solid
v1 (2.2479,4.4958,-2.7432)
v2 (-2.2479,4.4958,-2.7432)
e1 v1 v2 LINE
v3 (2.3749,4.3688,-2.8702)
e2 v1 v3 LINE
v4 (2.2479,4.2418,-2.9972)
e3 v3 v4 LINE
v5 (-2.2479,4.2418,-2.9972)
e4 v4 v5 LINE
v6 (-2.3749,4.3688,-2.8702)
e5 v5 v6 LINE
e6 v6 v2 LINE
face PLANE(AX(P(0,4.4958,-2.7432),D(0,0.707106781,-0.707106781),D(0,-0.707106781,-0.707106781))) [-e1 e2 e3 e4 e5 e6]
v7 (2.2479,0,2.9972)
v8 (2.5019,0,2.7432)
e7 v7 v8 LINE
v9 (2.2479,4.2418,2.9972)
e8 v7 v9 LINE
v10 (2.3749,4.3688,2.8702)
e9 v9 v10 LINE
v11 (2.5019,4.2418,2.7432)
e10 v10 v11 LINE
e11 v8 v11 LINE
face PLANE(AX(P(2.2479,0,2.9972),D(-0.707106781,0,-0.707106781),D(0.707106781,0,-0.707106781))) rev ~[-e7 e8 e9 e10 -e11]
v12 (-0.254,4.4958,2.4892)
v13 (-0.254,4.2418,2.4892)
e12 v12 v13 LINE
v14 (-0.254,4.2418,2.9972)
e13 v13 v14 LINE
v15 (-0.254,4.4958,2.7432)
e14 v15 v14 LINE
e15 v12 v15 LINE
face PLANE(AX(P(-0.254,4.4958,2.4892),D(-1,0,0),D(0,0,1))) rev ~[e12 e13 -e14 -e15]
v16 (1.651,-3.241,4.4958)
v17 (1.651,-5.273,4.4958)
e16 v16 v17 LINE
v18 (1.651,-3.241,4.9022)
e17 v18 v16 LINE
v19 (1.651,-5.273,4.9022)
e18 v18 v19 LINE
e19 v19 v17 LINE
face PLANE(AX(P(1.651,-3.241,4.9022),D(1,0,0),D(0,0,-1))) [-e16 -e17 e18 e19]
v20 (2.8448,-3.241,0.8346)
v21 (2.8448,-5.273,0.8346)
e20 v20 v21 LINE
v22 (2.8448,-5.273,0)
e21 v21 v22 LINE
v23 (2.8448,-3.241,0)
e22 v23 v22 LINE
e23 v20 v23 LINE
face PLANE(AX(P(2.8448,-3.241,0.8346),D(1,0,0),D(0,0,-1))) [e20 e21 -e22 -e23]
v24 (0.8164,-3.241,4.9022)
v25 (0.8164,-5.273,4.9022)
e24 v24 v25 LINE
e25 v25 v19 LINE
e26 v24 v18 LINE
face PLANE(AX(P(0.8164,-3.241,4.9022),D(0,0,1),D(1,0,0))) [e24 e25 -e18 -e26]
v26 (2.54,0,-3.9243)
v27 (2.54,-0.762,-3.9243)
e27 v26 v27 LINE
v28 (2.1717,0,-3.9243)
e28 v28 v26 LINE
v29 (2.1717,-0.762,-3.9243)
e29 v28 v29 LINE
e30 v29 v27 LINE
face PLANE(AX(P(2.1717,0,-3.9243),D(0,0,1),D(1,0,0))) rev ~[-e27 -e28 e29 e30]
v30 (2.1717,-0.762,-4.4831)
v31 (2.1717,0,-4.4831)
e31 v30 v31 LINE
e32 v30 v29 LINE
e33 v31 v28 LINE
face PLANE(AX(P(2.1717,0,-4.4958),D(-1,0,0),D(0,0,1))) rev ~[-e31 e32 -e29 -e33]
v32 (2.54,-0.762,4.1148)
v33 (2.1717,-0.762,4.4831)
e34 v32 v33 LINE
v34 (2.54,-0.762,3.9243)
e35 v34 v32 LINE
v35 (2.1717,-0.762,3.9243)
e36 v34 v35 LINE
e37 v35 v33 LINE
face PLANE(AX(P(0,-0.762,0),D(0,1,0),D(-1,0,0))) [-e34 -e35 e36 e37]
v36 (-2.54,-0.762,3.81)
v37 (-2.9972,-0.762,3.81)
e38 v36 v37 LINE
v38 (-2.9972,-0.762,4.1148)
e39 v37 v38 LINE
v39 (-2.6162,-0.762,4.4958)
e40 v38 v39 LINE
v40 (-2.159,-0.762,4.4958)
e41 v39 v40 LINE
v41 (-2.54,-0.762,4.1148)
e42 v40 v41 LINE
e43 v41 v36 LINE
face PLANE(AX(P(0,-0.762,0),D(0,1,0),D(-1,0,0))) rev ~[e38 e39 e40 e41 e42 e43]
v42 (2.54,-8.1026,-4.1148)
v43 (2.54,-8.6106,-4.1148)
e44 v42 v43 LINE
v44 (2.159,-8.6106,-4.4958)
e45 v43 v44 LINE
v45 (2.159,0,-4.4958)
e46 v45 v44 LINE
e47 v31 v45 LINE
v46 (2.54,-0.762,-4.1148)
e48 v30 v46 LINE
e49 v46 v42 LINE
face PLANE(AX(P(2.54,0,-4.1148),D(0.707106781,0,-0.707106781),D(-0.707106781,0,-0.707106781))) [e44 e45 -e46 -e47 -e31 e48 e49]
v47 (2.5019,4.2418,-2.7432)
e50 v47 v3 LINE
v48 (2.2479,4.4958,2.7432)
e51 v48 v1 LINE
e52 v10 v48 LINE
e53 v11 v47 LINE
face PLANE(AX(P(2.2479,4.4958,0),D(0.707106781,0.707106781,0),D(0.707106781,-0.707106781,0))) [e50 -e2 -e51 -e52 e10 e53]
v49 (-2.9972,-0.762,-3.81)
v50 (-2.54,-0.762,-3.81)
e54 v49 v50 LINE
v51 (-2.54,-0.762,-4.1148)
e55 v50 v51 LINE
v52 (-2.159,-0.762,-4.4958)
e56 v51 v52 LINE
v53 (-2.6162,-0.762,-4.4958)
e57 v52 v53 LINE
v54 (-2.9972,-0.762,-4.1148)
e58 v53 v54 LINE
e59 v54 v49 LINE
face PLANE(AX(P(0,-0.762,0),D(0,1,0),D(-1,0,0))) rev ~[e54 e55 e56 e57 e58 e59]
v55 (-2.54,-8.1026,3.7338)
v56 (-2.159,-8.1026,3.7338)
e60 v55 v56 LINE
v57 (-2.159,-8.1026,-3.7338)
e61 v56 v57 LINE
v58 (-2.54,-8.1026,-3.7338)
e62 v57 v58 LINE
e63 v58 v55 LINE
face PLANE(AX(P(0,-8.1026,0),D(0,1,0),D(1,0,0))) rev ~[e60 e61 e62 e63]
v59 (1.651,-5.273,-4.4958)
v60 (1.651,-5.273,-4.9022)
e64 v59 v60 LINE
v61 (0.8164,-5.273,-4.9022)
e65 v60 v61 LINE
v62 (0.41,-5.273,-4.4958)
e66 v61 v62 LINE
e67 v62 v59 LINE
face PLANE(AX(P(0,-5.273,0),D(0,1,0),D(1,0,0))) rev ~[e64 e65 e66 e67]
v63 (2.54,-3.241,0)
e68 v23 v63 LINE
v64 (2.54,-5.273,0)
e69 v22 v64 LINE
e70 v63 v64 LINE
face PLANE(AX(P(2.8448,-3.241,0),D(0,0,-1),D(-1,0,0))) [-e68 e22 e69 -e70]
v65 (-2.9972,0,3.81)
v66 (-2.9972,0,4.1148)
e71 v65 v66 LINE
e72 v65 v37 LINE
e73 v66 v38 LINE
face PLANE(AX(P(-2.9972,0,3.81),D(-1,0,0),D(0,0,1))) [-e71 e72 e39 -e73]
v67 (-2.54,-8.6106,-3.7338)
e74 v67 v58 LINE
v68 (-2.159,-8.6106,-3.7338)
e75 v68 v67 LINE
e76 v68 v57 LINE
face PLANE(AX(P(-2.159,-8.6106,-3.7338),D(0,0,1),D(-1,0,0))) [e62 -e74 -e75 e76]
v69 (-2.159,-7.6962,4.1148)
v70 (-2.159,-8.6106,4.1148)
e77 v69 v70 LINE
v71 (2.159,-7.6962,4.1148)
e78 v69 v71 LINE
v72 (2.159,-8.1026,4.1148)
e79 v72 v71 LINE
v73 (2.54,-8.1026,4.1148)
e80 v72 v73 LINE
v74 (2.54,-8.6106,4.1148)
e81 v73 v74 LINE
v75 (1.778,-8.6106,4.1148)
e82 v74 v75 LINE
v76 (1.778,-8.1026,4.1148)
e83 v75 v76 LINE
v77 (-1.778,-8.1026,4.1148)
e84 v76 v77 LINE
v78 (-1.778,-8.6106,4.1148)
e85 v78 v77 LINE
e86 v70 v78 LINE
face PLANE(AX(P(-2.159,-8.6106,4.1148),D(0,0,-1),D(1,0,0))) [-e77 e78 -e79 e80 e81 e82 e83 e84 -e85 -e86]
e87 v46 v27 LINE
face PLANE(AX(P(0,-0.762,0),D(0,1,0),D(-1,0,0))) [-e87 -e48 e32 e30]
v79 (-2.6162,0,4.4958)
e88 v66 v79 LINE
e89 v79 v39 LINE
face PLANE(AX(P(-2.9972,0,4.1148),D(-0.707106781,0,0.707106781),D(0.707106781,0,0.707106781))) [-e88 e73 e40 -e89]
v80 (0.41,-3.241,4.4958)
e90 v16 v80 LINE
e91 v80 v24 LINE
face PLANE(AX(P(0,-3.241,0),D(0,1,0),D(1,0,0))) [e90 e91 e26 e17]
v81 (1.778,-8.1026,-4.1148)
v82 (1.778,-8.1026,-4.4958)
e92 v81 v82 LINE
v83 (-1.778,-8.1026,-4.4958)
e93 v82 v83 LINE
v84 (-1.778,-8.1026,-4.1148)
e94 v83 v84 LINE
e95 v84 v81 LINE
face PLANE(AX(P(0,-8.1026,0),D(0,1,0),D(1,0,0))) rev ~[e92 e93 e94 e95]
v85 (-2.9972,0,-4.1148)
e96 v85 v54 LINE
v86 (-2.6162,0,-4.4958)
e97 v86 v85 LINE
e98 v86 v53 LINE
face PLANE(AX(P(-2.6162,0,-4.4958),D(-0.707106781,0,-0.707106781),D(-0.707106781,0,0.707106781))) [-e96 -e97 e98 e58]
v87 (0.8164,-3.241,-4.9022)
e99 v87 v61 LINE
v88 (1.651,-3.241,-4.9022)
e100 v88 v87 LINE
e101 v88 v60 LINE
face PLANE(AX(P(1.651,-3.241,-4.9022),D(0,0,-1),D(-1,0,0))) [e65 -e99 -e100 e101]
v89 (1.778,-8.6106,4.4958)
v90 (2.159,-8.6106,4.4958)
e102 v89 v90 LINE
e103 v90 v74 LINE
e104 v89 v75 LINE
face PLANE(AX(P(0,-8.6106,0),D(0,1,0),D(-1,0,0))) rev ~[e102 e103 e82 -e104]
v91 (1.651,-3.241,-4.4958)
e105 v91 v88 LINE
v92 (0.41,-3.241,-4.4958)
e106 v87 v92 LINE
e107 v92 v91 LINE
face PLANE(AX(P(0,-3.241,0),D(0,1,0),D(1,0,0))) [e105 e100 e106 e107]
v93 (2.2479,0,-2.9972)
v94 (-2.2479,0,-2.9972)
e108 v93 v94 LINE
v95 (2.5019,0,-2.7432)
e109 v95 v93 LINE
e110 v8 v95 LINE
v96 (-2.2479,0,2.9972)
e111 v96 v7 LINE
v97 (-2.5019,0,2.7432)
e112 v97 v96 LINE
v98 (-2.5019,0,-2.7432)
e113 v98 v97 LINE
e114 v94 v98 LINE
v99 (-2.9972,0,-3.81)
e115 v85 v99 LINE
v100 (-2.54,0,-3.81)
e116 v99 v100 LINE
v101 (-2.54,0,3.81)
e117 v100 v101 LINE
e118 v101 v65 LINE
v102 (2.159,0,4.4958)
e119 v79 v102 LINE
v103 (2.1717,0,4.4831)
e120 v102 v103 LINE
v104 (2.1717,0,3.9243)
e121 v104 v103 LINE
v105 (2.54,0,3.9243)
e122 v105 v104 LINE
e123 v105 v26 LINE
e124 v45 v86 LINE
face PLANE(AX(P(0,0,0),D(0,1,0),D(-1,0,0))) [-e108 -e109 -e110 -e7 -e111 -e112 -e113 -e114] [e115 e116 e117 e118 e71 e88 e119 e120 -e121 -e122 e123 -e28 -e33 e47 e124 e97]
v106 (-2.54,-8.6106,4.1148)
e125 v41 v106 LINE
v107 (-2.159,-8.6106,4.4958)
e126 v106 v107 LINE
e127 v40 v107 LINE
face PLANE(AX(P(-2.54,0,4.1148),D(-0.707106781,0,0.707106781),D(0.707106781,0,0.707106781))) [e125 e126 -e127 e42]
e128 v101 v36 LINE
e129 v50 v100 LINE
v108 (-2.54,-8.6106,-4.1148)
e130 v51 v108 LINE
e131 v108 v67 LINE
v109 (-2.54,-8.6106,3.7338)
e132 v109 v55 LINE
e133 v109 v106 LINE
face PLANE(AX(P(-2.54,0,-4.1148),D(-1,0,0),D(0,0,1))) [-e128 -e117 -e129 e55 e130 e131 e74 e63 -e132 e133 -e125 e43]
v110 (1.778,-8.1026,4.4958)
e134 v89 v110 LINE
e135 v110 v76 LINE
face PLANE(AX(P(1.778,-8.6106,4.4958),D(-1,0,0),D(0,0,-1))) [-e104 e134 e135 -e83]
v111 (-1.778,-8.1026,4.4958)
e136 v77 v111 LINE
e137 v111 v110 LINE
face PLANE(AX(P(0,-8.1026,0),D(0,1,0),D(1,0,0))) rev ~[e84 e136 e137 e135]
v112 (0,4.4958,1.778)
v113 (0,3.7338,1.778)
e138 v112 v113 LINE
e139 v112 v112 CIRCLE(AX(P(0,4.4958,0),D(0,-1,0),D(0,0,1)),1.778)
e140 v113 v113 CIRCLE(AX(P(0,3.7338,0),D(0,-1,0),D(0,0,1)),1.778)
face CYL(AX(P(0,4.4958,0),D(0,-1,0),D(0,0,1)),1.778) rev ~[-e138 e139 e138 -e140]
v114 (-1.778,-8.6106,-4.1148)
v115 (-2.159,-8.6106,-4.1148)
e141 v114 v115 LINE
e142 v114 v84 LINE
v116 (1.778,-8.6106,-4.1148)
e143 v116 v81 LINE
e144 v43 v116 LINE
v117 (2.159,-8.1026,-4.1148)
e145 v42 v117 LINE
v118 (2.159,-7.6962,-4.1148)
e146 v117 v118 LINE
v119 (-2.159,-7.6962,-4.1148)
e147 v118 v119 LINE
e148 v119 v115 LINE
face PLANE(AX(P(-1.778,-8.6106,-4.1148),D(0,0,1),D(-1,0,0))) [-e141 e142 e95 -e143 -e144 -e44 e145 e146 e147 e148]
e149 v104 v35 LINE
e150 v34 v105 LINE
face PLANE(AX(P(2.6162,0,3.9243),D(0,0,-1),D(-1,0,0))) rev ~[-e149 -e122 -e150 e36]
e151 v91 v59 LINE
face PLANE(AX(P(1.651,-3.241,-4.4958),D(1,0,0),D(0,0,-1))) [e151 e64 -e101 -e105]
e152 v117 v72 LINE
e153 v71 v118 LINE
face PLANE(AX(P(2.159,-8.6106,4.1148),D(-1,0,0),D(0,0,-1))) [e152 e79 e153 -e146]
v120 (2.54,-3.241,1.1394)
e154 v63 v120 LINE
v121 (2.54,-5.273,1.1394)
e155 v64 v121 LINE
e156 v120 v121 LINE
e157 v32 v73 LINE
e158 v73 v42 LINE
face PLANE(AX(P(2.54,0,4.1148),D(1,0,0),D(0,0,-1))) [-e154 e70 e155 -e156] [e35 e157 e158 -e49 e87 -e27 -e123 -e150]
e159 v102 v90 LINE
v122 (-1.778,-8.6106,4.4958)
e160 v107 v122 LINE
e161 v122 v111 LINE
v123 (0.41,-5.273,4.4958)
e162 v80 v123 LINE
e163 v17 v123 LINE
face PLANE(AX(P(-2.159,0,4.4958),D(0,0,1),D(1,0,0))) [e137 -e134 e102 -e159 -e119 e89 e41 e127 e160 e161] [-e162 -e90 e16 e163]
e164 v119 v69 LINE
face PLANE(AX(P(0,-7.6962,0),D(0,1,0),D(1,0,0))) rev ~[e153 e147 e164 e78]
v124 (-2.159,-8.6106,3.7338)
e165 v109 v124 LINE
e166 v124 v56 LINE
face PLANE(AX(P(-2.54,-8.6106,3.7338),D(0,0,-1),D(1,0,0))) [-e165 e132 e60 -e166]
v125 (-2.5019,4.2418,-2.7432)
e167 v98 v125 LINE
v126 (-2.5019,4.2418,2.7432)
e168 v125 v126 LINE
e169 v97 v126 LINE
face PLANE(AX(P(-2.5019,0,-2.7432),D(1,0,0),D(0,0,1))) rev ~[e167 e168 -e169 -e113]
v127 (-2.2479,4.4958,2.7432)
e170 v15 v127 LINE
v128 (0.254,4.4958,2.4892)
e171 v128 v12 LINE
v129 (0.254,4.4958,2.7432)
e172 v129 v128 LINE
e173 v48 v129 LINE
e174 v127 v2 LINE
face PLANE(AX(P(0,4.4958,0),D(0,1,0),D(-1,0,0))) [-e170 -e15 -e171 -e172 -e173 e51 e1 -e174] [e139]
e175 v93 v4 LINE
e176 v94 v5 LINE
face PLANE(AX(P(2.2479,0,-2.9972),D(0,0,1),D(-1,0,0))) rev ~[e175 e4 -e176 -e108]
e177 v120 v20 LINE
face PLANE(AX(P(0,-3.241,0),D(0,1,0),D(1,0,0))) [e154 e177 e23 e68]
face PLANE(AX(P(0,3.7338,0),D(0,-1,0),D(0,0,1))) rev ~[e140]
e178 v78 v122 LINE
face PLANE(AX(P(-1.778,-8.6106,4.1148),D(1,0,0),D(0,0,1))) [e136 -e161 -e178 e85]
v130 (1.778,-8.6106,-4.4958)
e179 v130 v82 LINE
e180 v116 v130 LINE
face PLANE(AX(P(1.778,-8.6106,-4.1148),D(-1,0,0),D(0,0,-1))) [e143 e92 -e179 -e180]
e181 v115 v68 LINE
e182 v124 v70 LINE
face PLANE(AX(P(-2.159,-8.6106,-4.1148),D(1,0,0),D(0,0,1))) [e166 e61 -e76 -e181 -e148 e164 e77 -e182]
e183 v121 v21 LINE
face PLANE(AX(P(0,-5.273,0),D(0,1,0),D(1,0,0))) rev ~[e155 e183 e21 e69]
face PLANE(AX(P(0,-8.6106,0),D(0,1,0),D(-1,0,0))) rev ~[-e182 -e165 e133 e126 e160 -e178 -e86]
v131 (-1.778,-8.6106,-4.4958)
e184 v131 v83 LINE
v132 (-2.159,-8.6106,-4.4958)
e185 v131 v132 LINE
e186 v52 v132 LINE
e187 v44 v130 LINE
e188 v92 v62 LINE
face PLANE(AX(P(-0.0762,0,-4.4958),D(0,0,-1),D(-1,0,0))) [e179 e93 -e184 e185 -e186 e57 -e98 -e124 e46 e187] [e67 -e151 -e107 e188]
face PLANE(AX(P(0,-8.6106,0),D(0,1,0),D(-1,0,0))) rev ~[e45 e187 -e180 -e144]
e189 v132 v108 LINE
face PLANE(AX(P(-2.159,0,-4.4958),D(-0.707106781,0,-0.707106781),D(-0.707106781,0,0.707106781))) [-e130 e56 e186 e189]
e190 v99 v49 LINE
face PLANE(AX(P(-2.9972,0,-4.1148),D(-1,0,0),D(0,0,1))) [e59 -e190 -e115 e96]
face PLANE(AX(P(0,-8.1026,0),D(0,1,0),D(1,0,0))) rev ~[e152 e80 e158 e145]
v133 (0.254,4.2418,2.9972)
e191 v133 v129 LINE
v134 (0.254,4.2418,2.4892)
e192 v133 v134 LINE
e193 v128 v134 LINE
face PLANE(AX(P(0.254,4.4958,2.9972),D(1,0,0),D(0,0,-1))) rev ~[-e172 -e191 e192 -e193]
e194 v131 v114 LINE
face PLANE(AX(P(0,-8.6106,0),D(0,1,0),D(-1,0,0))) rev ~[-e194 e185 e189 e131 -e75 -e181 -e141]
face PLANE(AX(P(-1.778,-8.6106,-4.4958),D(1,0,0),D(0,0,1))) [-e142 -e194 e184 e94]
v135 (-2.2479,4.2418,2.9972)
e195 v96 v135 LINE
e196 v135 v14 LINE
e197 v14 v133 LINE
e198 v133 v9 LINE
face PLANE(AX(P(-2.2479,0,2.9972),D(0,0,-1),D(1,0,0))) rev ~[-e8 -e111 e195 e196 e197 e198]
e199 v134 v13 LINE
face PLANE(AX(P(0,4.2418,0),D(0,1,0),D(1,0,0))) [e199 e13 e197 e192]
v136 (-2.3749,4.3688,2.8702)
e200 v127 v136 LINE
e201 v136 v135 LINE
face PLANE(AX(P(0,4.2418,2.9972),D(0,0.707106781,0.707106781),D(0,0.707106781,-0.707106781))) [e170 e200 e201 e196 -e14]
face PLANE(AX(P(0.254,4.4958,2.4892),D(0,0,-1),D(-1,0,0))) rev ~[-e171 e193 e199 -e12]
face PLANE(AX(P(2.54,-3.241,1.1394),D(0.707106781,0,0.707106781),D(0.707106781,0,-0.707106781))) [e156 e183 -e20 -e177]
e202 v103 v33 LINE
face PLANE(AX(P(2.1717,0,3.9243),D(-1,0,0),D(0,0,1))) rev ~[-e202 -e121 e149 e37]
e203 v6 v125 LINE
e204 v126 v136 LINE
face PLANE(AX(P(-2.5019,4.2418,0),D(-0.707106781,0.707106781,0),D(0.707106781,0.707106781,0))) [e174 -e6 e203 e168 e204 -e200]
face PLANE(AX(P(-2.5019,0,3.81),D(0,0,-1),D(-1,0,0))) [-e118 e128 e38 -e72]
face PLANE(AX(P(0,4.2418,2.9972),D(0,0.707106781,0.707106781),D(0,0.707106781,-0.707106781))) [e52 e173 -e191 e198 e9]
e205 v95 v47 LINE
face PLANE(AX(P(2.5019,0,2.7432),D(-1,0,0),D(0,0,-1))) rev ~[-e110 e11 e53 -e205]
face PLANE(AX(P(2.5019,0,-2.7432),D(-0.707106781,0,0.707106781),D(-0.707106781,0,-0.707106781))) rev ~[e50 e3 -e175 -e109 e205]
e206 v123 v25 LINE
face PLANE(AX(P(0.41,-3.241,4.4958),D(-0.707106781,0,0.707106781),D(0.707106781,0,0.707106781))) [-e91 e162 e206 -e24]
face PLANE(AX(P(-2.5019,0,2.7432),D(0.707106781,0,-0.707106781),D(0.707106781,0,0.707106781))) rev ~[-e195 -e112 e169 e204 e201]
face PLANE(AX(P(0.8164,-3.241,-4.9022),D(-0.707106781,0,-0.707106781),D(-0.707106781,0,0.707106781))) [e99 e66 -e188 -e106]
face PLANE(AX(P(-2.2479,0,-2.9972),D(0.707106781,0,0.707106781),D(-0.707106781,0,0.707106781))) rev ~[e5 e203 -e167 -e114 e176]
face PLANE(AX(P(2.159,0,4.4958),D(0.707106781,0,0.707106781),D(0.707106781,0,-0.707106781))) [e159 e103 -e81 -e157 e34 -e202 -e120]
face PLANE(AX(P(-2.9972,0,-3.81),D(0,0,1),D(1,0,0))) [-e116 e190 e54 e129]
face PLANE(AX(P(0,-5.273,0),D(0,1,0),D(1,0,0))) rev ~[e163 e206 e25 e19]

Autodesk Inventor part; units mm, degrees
sketch "Sketch_1" plane through (0, 0, 0) normal (0, 1, 0) x (-1, 0, 0)
  line L0 (2.54, -4.1148) -> (2.54, 4.1148)
  line L1 (2.54, 4.1148) -> (2.159, 4.4958)
  line L2 (2.159, 4.4958) -> (-2.159, 4.4958)
  line L3 (-2.159, 4.4958) -> (-2.54, 4.1148)
  line L4 (-2.54, 4.1148) -> (-2.54, -4.1148)
  line L5 (-2.54, -4.1148) -> (-2.159, -4.4958)
  line L6 (-2.159, -4.4958) -> (2.159, -4.4958)
  line L7 (2.159, -4.4958) -> (2.54, -4.1148)
extrude "Extrusion1" add sketch "Sketch_1" against normal blind 8.6106
sketch "Sketch_2" plane through (0, -8.6106, 0) normal (0, 1, 0) x (1, 0, 0)
  line L0 (-2.54, 3.7338) -> (-2.54, -3.7338)
  line L1 (-2.54, -3.7338) -> (-2.159, -3.7338)
  line L2 (-2.159, -3.7338) -> (-2.159, -4.1148)
  line L3 (-2.159, -4.1148) -> (-1.778, -4.1148)
  line L4 (-1.778, -4.1148) -> (-1.778, -4.4958)
  line L5 (-1.778, -4.4958) -> (1.778, -4.4958)
  line L6 (1.778, -4.4958) -> (1.778, -4.1148)
  line L7 (1.778, -4.1148) -> (2.54, -4.1148)
  line L8 (2.54, -4.1148) -> (2.54, 4.1148)
  line L9 (2.54, 4.1148) -> (1.778, 4.1148)
  line L10 (1.778, 4.1148) -> (1.778, 4.4958)
  line L11 (1.778, 4.4958) -> (-1.778, 4.4958)
  line L12 (-1.778, 4.4958) -> (-1.778, 4.1148)
  line L13 (-1.778, 4.1148) -> (-2.159, 4.1148)
  line L14 (-2.159, 4.1148) -> (-2.159, 3.7338)
  line L15 (-2.159, 3.7338) -> (-2.54, 3.7338)
extrude "Extrusion2" cut sketch "Sketch_2" along normal blind 0.508
sketch "Sketch_21" plane through (0, -8.6106, 0) normal (0, 1, 0) x (1, 0, 0)
  line L0 (-2.159, -4.1148) -> (2.159, -4.1148)
  line L1 (2.159, -4.1148) -> (2.159, 4.1148)
  line L2 (2.159, 4.1148) -> (-2.159, 4.1148)
  line L3 (-2.159, 4.1148) -> (-2.159, -4.1148)
extrude "Extrusion3" cut sketch "Sketch_21" along normal blind 0.9144
sketch "Sketch_3" plane through (0, 0, 0) normal (0, 1, 0) x (-1, 0, 0)
  line L0 (-2.1717, -3.9243) -> (-2.6162, -3.9243)
  line L1 (-2.6162, -3.9243) -> (-2.6162, 3.9243)
  line L2 (-2.6162, 3.9243) -> (-2.1717, 3.9243)
  line L3 (-2.1717, 3.9243) -> (-2.1717, 4.4958)
  line L4 (-2.1717, 4.4958) -> (-2.921, 4.4958)
  line L5 (-2.921, 4.4958) -> (-2.921, -4.4958)
  line L6 (-2.921, -4.4958) -> (-2.1717, -4.4958)
  line L7 (-2.1717, -4.4958) -> (-2.1717, -3.9243)
extrude "Extrusion4" cut sketch "Sketch_3" against normal blind 0.762
sketch "Sketch_4" plane through (0, 0, 0) normal (0, 1, 0) x (-1, 0, 0)
  line L0 (2.9972, -3.81) -> (2.5019, -3.81)
  line L1 (2.5019, -3.81) -> (2.5019, 3.81)
  line L2 (2.5019, 3.81) -> (2.9972, 3.81)
  line L3 (2.9972, 3.81) -> (2.9972, 4.1148)
  line L4 (2.9972, 4.1148) -> (2.6162, 4.4958)
  line L5 (2.6162, 4.4958) -> (0.0762, 4.4958)
  line L6 (0.0762, 4.4958) -> (0.0762, -4.4958)
  line L7 (0.0762, -4.4958) -> (2.6162, -4.4958)
  line L8 (2.6162, -4.4958) -> (2.9972, -4.1148)
  line L9 (2.9972, -4.1148) -> (2.9972, -3.81)
extrude "Extrusion5" add sketch "Sketch_4" against normal blind 0.762
sketch "Sketch_5" plane through (0, -3.241, 0) normal (0, 1, 0) x (1, 0, 0)
  line L0 (0.41, -4.4958) -> (0.8164, -4.9022)
  line L1 (0.8164, -4.9022) -> (1.651, -4.9022)
  line L2 (1.651, -4.9022) -> (1.651, -4.4958)
  line L3 (1.651, -4.4958) -> (0.41, -4.4958)
extrude "Extrusion6" add sketch "Sketch_5" against normal blind 2.032
sketch "Sketch_6" plane through (0, -3.241, 0) normal (0, 1, 0) x (1, 0, 0)
  line L0 (0.41, 4.4958) -> (1.651, 4.4958)
  line L1 (1.651, 4.4958) -> (1.651, 4.9022)
  line L2 (1.651, 4.9022) -> (0.8164, 4.9022)
  line L3 (0.8164, 4.9022) -> (0.41, 4.4958)
extrude "Extrusion7" add sketch "Sketch_6" against normal blind 2.032
sketch "Sketch_7" plane through (0, -3.241, 0) normal (0, 1, 0) x (1, 0, 0)
  line L0 (2.54, 0) -> (2.54, -1.1394)
  line L1 (2.54, -1.1394) -> (2.8448, -0.8346)
  line L2 (2.8448, -0.8346) -> (2.8448, 0)
  line L3 (2.8448, 0) -> (2.54, 0)
extrude "Extrusion8" add sketch "Sketch_7" against normal blind 2.032
sketch "Sketch_8" plane through (0, 0, 0) normal (0, 1, 0) x (-1, 0, 0)
  line L0 (2.5019, -2.7432) -> (2.5019, 2.7432)
  line L1 (2.5019, 2.7432) -> (2.2479, 2.9972)
  line L2 (2.2479, 2.9972) -> (-2.2479, 2.9972)
  line L3 (-2.2479, 2.9972) -> (-2.5019, 2.7432)
  line L4 (-2.5019, 2.7432) -> (-2.5019, -2.7432)
  line L5 (-2.5019, -2.7432) -> (-2.2479, -2.9972)
  line L6 (-2.2479, -2.9972) -> (2.2479, -2.9972)
  line L7 (2.2479, -2.9972) -> (2.5019, -2.7432)
extrude "Extrusion9" add sketch "Sketch_8" along normal blind 4.4958
sketch "Sketch_9" plane through (0, 0, 0) normal (1, 0, 0) x (0, 1, 0)
  line L0 (0, 3.2953) -> (0, 2.9972)
  line L1 (0, 2.9972) -> (4.2418, 2.9972)
  line L2 (4.2418, 2.9972) -> (4.4958, 2.7432)
  line L3 (4.4958, 2.7432) -> (4.4958, -2.7432)
  line L4 (4.4958, -2.7432) -> (4.2418, -2.9972)
  line L5 (4.2418, -2.9972) -> (0, -2.9972)
  line L6 (0, -2.9972) -> (0, -3.2953)
  line L7 (0, -3.2953) -> (4.5957, -3.2953)
  line L8 (4.5957, -3.2953) -> (4.5957, 3.2953)
  line L9 (4.5957, 3.2953) -> (0, 3.2953)
extrude "Extrusion10" cut sketch "Sketch_9" along normal mid plane 5.0038
sketch "Sketch_10" plane through (0, 0, 0) normal (0, 0, 1) x (1, 0, 0)
  line L0 (-3.2953, 0) -> (-2.5019, 0)
  line L1 (-2.5019, 0) -> (-2.5019, 4.2418)
  line L2 (-2.5019, 4.2418) -> (-2.2479, 4.4958)
  line L3 (-2.2479, 4.4958) -> (2.2479, 4.4958)
  line L4 (2.2479, 4.4958) -> (2.5019, 4.2418)
  line L5 (2.5019, 4.2418) -> (2.5019, 0)
  line L6 (2.5019, 0) -> (3.2953, 0)
  line L7 (3.2953, 0) -> (3.2953, 4.5957)
  line L8 (3.2953, 4.5957) -> (-3.2953, 4.5957)
  line L9 (-3.2953, 4.5957) -> (-3.2953, 0)
extrude "Extrusion11" cut sketch "Sketch_10" along normal mid plane 5.9944
sketch "Sketch12" plane through (0, 4.4958, 0) normal (0, 1, 0) x (1, 0, 0)
  point P0 (0, 0)
hole "Drilling 1" at (0, 4.4958, 0) direction (0, -1, 0) diameter 3.556 depth 0.762
sketch "Sketch_28" plane through (0, 4.4958, 0) normal (0, 1, 0) x (1, 0, 0)
  line L0 (-0.254, -2.4892) -> (-0.254, -2.9972)
  line L1 (-0.254, -2.9972) -> (0.254, -2.9972)
  line L2 (0.254, -2.9972) -> (0.254, -2.4892)
  line L3 (0.254, -2.4892) -> (-0.254, -2.4892)
extrude "Extrusion12" cut sketch "Sketch_28" against normal blind 0.254
ref_plane "to_bracket_r_XY" through (-2.54, -4.3078, 0) normal (1, 0, 0) x (0, 0, -1)
ref_plane "to_bracket_r_YZ" through (-2.54, -4.3078, 0) normal (0, 0, -1) x (0, 1, 0)
ref_plane "to_bracket_r_ZX" through (-2.54, -4.3078, 0) normal (0, 1, 0) x (1, 0, 0)
ref_plane "to_bracket_r2_XY" through (-4.3942, -4.318, 0) normal (1, 0, 0) x (0, 0, -1)
ref_plane "to_bracket_r2_YZ" through (-4.3942, -4.318, 0) normal (0, 0, -1) x (0, 1, 0)
ref_plane "to_bracket_r2_ZX" through (-4.3942, -4.318, 0) normal (0, 1, 0) x (1, 0, 0)
ref_plane "to_bracket_s_XY" through (-2.54, -4.7015, 0) normal (1, 0, 0) x (0, 0, -1)
ref_plane "to_bracket_s_YZ" through (-2.54, -4.7015, 0) normal (0, 0, -1) x (0, 1, 0)
ref_plane "to_bracket_s_ZX" through (-2.54, -4.7015, 0) normal (0, 1, 0) x (1, 0, 0)
ref_plane "to_bracket_s2_XY" through (-4.3942, -4.7142, 0) normal (1, 0, 0) x (0, 0, -1)
ref_plane "to_bracket_s2_YZ" through (-4.3942, -4.7142, 0) normal (0, 0, -1) x (0, 1, 0)
ref_plane "to_bracket_s2_ZX" through (-4.3942, -4.7142, 0) normal (0, 1, 0) x (1, 0, 0)
ref_plane "to_bracket_v_XY" through (0, -4.1554, 4.3942) normal (0, 0, -1) x (1, 0, 0)
ref_plane "to_bracket_v_YZ" through (0, -4.1554, 4.3942) normal (1, 0, 0) x (0, -1, 0)
ref_plane "to_bracket_v_ZX" through (0, -4.1554, 4.3942) normal (0, -1, 0) x (0, 0, -1)
ref_plane "to_dummy_XY" through (0, 0, 0) normal (0, -1, 0) x (1, 0, 0)
ref_plane "to_dummy_YZ" through (0, 0, 0) normal (1, 0, 0) x (0, 0, 1)
ref_plane "to_dummy_ZX" through (0, 0, 0) normal (0, 0, 1) x (0, -1, 0)
ref_plane "to_terminal_XY" through (0, -7.3406, 0) normal (0, 1, 0) x (1, 0, 0)
ref_plane "to_terminal_YZ" through (0, -7.3406, 0) normal (1, 0, 0) x (0, 0, -1)
ref_plane "to_terminal_ZX" through (0, -7.3406, 0) normal (0, 0, -1) x (0, 1, 0)
ref_plane "to_toggle_XY" through (0, 4.4958, 0) normal (0, -1, 0) x (1, 0, 0)
ref_plane "to_toggle_YZ" through (0, 4.4958, 0) normal (1, 0, 0) x (0, 0, 1)
ref_plane "to_toggle_ZX" through (0, 4.4958, 0) normal (0, 0, 1) x (0, -1, 0)
properties part number "A1-toggle-body"
